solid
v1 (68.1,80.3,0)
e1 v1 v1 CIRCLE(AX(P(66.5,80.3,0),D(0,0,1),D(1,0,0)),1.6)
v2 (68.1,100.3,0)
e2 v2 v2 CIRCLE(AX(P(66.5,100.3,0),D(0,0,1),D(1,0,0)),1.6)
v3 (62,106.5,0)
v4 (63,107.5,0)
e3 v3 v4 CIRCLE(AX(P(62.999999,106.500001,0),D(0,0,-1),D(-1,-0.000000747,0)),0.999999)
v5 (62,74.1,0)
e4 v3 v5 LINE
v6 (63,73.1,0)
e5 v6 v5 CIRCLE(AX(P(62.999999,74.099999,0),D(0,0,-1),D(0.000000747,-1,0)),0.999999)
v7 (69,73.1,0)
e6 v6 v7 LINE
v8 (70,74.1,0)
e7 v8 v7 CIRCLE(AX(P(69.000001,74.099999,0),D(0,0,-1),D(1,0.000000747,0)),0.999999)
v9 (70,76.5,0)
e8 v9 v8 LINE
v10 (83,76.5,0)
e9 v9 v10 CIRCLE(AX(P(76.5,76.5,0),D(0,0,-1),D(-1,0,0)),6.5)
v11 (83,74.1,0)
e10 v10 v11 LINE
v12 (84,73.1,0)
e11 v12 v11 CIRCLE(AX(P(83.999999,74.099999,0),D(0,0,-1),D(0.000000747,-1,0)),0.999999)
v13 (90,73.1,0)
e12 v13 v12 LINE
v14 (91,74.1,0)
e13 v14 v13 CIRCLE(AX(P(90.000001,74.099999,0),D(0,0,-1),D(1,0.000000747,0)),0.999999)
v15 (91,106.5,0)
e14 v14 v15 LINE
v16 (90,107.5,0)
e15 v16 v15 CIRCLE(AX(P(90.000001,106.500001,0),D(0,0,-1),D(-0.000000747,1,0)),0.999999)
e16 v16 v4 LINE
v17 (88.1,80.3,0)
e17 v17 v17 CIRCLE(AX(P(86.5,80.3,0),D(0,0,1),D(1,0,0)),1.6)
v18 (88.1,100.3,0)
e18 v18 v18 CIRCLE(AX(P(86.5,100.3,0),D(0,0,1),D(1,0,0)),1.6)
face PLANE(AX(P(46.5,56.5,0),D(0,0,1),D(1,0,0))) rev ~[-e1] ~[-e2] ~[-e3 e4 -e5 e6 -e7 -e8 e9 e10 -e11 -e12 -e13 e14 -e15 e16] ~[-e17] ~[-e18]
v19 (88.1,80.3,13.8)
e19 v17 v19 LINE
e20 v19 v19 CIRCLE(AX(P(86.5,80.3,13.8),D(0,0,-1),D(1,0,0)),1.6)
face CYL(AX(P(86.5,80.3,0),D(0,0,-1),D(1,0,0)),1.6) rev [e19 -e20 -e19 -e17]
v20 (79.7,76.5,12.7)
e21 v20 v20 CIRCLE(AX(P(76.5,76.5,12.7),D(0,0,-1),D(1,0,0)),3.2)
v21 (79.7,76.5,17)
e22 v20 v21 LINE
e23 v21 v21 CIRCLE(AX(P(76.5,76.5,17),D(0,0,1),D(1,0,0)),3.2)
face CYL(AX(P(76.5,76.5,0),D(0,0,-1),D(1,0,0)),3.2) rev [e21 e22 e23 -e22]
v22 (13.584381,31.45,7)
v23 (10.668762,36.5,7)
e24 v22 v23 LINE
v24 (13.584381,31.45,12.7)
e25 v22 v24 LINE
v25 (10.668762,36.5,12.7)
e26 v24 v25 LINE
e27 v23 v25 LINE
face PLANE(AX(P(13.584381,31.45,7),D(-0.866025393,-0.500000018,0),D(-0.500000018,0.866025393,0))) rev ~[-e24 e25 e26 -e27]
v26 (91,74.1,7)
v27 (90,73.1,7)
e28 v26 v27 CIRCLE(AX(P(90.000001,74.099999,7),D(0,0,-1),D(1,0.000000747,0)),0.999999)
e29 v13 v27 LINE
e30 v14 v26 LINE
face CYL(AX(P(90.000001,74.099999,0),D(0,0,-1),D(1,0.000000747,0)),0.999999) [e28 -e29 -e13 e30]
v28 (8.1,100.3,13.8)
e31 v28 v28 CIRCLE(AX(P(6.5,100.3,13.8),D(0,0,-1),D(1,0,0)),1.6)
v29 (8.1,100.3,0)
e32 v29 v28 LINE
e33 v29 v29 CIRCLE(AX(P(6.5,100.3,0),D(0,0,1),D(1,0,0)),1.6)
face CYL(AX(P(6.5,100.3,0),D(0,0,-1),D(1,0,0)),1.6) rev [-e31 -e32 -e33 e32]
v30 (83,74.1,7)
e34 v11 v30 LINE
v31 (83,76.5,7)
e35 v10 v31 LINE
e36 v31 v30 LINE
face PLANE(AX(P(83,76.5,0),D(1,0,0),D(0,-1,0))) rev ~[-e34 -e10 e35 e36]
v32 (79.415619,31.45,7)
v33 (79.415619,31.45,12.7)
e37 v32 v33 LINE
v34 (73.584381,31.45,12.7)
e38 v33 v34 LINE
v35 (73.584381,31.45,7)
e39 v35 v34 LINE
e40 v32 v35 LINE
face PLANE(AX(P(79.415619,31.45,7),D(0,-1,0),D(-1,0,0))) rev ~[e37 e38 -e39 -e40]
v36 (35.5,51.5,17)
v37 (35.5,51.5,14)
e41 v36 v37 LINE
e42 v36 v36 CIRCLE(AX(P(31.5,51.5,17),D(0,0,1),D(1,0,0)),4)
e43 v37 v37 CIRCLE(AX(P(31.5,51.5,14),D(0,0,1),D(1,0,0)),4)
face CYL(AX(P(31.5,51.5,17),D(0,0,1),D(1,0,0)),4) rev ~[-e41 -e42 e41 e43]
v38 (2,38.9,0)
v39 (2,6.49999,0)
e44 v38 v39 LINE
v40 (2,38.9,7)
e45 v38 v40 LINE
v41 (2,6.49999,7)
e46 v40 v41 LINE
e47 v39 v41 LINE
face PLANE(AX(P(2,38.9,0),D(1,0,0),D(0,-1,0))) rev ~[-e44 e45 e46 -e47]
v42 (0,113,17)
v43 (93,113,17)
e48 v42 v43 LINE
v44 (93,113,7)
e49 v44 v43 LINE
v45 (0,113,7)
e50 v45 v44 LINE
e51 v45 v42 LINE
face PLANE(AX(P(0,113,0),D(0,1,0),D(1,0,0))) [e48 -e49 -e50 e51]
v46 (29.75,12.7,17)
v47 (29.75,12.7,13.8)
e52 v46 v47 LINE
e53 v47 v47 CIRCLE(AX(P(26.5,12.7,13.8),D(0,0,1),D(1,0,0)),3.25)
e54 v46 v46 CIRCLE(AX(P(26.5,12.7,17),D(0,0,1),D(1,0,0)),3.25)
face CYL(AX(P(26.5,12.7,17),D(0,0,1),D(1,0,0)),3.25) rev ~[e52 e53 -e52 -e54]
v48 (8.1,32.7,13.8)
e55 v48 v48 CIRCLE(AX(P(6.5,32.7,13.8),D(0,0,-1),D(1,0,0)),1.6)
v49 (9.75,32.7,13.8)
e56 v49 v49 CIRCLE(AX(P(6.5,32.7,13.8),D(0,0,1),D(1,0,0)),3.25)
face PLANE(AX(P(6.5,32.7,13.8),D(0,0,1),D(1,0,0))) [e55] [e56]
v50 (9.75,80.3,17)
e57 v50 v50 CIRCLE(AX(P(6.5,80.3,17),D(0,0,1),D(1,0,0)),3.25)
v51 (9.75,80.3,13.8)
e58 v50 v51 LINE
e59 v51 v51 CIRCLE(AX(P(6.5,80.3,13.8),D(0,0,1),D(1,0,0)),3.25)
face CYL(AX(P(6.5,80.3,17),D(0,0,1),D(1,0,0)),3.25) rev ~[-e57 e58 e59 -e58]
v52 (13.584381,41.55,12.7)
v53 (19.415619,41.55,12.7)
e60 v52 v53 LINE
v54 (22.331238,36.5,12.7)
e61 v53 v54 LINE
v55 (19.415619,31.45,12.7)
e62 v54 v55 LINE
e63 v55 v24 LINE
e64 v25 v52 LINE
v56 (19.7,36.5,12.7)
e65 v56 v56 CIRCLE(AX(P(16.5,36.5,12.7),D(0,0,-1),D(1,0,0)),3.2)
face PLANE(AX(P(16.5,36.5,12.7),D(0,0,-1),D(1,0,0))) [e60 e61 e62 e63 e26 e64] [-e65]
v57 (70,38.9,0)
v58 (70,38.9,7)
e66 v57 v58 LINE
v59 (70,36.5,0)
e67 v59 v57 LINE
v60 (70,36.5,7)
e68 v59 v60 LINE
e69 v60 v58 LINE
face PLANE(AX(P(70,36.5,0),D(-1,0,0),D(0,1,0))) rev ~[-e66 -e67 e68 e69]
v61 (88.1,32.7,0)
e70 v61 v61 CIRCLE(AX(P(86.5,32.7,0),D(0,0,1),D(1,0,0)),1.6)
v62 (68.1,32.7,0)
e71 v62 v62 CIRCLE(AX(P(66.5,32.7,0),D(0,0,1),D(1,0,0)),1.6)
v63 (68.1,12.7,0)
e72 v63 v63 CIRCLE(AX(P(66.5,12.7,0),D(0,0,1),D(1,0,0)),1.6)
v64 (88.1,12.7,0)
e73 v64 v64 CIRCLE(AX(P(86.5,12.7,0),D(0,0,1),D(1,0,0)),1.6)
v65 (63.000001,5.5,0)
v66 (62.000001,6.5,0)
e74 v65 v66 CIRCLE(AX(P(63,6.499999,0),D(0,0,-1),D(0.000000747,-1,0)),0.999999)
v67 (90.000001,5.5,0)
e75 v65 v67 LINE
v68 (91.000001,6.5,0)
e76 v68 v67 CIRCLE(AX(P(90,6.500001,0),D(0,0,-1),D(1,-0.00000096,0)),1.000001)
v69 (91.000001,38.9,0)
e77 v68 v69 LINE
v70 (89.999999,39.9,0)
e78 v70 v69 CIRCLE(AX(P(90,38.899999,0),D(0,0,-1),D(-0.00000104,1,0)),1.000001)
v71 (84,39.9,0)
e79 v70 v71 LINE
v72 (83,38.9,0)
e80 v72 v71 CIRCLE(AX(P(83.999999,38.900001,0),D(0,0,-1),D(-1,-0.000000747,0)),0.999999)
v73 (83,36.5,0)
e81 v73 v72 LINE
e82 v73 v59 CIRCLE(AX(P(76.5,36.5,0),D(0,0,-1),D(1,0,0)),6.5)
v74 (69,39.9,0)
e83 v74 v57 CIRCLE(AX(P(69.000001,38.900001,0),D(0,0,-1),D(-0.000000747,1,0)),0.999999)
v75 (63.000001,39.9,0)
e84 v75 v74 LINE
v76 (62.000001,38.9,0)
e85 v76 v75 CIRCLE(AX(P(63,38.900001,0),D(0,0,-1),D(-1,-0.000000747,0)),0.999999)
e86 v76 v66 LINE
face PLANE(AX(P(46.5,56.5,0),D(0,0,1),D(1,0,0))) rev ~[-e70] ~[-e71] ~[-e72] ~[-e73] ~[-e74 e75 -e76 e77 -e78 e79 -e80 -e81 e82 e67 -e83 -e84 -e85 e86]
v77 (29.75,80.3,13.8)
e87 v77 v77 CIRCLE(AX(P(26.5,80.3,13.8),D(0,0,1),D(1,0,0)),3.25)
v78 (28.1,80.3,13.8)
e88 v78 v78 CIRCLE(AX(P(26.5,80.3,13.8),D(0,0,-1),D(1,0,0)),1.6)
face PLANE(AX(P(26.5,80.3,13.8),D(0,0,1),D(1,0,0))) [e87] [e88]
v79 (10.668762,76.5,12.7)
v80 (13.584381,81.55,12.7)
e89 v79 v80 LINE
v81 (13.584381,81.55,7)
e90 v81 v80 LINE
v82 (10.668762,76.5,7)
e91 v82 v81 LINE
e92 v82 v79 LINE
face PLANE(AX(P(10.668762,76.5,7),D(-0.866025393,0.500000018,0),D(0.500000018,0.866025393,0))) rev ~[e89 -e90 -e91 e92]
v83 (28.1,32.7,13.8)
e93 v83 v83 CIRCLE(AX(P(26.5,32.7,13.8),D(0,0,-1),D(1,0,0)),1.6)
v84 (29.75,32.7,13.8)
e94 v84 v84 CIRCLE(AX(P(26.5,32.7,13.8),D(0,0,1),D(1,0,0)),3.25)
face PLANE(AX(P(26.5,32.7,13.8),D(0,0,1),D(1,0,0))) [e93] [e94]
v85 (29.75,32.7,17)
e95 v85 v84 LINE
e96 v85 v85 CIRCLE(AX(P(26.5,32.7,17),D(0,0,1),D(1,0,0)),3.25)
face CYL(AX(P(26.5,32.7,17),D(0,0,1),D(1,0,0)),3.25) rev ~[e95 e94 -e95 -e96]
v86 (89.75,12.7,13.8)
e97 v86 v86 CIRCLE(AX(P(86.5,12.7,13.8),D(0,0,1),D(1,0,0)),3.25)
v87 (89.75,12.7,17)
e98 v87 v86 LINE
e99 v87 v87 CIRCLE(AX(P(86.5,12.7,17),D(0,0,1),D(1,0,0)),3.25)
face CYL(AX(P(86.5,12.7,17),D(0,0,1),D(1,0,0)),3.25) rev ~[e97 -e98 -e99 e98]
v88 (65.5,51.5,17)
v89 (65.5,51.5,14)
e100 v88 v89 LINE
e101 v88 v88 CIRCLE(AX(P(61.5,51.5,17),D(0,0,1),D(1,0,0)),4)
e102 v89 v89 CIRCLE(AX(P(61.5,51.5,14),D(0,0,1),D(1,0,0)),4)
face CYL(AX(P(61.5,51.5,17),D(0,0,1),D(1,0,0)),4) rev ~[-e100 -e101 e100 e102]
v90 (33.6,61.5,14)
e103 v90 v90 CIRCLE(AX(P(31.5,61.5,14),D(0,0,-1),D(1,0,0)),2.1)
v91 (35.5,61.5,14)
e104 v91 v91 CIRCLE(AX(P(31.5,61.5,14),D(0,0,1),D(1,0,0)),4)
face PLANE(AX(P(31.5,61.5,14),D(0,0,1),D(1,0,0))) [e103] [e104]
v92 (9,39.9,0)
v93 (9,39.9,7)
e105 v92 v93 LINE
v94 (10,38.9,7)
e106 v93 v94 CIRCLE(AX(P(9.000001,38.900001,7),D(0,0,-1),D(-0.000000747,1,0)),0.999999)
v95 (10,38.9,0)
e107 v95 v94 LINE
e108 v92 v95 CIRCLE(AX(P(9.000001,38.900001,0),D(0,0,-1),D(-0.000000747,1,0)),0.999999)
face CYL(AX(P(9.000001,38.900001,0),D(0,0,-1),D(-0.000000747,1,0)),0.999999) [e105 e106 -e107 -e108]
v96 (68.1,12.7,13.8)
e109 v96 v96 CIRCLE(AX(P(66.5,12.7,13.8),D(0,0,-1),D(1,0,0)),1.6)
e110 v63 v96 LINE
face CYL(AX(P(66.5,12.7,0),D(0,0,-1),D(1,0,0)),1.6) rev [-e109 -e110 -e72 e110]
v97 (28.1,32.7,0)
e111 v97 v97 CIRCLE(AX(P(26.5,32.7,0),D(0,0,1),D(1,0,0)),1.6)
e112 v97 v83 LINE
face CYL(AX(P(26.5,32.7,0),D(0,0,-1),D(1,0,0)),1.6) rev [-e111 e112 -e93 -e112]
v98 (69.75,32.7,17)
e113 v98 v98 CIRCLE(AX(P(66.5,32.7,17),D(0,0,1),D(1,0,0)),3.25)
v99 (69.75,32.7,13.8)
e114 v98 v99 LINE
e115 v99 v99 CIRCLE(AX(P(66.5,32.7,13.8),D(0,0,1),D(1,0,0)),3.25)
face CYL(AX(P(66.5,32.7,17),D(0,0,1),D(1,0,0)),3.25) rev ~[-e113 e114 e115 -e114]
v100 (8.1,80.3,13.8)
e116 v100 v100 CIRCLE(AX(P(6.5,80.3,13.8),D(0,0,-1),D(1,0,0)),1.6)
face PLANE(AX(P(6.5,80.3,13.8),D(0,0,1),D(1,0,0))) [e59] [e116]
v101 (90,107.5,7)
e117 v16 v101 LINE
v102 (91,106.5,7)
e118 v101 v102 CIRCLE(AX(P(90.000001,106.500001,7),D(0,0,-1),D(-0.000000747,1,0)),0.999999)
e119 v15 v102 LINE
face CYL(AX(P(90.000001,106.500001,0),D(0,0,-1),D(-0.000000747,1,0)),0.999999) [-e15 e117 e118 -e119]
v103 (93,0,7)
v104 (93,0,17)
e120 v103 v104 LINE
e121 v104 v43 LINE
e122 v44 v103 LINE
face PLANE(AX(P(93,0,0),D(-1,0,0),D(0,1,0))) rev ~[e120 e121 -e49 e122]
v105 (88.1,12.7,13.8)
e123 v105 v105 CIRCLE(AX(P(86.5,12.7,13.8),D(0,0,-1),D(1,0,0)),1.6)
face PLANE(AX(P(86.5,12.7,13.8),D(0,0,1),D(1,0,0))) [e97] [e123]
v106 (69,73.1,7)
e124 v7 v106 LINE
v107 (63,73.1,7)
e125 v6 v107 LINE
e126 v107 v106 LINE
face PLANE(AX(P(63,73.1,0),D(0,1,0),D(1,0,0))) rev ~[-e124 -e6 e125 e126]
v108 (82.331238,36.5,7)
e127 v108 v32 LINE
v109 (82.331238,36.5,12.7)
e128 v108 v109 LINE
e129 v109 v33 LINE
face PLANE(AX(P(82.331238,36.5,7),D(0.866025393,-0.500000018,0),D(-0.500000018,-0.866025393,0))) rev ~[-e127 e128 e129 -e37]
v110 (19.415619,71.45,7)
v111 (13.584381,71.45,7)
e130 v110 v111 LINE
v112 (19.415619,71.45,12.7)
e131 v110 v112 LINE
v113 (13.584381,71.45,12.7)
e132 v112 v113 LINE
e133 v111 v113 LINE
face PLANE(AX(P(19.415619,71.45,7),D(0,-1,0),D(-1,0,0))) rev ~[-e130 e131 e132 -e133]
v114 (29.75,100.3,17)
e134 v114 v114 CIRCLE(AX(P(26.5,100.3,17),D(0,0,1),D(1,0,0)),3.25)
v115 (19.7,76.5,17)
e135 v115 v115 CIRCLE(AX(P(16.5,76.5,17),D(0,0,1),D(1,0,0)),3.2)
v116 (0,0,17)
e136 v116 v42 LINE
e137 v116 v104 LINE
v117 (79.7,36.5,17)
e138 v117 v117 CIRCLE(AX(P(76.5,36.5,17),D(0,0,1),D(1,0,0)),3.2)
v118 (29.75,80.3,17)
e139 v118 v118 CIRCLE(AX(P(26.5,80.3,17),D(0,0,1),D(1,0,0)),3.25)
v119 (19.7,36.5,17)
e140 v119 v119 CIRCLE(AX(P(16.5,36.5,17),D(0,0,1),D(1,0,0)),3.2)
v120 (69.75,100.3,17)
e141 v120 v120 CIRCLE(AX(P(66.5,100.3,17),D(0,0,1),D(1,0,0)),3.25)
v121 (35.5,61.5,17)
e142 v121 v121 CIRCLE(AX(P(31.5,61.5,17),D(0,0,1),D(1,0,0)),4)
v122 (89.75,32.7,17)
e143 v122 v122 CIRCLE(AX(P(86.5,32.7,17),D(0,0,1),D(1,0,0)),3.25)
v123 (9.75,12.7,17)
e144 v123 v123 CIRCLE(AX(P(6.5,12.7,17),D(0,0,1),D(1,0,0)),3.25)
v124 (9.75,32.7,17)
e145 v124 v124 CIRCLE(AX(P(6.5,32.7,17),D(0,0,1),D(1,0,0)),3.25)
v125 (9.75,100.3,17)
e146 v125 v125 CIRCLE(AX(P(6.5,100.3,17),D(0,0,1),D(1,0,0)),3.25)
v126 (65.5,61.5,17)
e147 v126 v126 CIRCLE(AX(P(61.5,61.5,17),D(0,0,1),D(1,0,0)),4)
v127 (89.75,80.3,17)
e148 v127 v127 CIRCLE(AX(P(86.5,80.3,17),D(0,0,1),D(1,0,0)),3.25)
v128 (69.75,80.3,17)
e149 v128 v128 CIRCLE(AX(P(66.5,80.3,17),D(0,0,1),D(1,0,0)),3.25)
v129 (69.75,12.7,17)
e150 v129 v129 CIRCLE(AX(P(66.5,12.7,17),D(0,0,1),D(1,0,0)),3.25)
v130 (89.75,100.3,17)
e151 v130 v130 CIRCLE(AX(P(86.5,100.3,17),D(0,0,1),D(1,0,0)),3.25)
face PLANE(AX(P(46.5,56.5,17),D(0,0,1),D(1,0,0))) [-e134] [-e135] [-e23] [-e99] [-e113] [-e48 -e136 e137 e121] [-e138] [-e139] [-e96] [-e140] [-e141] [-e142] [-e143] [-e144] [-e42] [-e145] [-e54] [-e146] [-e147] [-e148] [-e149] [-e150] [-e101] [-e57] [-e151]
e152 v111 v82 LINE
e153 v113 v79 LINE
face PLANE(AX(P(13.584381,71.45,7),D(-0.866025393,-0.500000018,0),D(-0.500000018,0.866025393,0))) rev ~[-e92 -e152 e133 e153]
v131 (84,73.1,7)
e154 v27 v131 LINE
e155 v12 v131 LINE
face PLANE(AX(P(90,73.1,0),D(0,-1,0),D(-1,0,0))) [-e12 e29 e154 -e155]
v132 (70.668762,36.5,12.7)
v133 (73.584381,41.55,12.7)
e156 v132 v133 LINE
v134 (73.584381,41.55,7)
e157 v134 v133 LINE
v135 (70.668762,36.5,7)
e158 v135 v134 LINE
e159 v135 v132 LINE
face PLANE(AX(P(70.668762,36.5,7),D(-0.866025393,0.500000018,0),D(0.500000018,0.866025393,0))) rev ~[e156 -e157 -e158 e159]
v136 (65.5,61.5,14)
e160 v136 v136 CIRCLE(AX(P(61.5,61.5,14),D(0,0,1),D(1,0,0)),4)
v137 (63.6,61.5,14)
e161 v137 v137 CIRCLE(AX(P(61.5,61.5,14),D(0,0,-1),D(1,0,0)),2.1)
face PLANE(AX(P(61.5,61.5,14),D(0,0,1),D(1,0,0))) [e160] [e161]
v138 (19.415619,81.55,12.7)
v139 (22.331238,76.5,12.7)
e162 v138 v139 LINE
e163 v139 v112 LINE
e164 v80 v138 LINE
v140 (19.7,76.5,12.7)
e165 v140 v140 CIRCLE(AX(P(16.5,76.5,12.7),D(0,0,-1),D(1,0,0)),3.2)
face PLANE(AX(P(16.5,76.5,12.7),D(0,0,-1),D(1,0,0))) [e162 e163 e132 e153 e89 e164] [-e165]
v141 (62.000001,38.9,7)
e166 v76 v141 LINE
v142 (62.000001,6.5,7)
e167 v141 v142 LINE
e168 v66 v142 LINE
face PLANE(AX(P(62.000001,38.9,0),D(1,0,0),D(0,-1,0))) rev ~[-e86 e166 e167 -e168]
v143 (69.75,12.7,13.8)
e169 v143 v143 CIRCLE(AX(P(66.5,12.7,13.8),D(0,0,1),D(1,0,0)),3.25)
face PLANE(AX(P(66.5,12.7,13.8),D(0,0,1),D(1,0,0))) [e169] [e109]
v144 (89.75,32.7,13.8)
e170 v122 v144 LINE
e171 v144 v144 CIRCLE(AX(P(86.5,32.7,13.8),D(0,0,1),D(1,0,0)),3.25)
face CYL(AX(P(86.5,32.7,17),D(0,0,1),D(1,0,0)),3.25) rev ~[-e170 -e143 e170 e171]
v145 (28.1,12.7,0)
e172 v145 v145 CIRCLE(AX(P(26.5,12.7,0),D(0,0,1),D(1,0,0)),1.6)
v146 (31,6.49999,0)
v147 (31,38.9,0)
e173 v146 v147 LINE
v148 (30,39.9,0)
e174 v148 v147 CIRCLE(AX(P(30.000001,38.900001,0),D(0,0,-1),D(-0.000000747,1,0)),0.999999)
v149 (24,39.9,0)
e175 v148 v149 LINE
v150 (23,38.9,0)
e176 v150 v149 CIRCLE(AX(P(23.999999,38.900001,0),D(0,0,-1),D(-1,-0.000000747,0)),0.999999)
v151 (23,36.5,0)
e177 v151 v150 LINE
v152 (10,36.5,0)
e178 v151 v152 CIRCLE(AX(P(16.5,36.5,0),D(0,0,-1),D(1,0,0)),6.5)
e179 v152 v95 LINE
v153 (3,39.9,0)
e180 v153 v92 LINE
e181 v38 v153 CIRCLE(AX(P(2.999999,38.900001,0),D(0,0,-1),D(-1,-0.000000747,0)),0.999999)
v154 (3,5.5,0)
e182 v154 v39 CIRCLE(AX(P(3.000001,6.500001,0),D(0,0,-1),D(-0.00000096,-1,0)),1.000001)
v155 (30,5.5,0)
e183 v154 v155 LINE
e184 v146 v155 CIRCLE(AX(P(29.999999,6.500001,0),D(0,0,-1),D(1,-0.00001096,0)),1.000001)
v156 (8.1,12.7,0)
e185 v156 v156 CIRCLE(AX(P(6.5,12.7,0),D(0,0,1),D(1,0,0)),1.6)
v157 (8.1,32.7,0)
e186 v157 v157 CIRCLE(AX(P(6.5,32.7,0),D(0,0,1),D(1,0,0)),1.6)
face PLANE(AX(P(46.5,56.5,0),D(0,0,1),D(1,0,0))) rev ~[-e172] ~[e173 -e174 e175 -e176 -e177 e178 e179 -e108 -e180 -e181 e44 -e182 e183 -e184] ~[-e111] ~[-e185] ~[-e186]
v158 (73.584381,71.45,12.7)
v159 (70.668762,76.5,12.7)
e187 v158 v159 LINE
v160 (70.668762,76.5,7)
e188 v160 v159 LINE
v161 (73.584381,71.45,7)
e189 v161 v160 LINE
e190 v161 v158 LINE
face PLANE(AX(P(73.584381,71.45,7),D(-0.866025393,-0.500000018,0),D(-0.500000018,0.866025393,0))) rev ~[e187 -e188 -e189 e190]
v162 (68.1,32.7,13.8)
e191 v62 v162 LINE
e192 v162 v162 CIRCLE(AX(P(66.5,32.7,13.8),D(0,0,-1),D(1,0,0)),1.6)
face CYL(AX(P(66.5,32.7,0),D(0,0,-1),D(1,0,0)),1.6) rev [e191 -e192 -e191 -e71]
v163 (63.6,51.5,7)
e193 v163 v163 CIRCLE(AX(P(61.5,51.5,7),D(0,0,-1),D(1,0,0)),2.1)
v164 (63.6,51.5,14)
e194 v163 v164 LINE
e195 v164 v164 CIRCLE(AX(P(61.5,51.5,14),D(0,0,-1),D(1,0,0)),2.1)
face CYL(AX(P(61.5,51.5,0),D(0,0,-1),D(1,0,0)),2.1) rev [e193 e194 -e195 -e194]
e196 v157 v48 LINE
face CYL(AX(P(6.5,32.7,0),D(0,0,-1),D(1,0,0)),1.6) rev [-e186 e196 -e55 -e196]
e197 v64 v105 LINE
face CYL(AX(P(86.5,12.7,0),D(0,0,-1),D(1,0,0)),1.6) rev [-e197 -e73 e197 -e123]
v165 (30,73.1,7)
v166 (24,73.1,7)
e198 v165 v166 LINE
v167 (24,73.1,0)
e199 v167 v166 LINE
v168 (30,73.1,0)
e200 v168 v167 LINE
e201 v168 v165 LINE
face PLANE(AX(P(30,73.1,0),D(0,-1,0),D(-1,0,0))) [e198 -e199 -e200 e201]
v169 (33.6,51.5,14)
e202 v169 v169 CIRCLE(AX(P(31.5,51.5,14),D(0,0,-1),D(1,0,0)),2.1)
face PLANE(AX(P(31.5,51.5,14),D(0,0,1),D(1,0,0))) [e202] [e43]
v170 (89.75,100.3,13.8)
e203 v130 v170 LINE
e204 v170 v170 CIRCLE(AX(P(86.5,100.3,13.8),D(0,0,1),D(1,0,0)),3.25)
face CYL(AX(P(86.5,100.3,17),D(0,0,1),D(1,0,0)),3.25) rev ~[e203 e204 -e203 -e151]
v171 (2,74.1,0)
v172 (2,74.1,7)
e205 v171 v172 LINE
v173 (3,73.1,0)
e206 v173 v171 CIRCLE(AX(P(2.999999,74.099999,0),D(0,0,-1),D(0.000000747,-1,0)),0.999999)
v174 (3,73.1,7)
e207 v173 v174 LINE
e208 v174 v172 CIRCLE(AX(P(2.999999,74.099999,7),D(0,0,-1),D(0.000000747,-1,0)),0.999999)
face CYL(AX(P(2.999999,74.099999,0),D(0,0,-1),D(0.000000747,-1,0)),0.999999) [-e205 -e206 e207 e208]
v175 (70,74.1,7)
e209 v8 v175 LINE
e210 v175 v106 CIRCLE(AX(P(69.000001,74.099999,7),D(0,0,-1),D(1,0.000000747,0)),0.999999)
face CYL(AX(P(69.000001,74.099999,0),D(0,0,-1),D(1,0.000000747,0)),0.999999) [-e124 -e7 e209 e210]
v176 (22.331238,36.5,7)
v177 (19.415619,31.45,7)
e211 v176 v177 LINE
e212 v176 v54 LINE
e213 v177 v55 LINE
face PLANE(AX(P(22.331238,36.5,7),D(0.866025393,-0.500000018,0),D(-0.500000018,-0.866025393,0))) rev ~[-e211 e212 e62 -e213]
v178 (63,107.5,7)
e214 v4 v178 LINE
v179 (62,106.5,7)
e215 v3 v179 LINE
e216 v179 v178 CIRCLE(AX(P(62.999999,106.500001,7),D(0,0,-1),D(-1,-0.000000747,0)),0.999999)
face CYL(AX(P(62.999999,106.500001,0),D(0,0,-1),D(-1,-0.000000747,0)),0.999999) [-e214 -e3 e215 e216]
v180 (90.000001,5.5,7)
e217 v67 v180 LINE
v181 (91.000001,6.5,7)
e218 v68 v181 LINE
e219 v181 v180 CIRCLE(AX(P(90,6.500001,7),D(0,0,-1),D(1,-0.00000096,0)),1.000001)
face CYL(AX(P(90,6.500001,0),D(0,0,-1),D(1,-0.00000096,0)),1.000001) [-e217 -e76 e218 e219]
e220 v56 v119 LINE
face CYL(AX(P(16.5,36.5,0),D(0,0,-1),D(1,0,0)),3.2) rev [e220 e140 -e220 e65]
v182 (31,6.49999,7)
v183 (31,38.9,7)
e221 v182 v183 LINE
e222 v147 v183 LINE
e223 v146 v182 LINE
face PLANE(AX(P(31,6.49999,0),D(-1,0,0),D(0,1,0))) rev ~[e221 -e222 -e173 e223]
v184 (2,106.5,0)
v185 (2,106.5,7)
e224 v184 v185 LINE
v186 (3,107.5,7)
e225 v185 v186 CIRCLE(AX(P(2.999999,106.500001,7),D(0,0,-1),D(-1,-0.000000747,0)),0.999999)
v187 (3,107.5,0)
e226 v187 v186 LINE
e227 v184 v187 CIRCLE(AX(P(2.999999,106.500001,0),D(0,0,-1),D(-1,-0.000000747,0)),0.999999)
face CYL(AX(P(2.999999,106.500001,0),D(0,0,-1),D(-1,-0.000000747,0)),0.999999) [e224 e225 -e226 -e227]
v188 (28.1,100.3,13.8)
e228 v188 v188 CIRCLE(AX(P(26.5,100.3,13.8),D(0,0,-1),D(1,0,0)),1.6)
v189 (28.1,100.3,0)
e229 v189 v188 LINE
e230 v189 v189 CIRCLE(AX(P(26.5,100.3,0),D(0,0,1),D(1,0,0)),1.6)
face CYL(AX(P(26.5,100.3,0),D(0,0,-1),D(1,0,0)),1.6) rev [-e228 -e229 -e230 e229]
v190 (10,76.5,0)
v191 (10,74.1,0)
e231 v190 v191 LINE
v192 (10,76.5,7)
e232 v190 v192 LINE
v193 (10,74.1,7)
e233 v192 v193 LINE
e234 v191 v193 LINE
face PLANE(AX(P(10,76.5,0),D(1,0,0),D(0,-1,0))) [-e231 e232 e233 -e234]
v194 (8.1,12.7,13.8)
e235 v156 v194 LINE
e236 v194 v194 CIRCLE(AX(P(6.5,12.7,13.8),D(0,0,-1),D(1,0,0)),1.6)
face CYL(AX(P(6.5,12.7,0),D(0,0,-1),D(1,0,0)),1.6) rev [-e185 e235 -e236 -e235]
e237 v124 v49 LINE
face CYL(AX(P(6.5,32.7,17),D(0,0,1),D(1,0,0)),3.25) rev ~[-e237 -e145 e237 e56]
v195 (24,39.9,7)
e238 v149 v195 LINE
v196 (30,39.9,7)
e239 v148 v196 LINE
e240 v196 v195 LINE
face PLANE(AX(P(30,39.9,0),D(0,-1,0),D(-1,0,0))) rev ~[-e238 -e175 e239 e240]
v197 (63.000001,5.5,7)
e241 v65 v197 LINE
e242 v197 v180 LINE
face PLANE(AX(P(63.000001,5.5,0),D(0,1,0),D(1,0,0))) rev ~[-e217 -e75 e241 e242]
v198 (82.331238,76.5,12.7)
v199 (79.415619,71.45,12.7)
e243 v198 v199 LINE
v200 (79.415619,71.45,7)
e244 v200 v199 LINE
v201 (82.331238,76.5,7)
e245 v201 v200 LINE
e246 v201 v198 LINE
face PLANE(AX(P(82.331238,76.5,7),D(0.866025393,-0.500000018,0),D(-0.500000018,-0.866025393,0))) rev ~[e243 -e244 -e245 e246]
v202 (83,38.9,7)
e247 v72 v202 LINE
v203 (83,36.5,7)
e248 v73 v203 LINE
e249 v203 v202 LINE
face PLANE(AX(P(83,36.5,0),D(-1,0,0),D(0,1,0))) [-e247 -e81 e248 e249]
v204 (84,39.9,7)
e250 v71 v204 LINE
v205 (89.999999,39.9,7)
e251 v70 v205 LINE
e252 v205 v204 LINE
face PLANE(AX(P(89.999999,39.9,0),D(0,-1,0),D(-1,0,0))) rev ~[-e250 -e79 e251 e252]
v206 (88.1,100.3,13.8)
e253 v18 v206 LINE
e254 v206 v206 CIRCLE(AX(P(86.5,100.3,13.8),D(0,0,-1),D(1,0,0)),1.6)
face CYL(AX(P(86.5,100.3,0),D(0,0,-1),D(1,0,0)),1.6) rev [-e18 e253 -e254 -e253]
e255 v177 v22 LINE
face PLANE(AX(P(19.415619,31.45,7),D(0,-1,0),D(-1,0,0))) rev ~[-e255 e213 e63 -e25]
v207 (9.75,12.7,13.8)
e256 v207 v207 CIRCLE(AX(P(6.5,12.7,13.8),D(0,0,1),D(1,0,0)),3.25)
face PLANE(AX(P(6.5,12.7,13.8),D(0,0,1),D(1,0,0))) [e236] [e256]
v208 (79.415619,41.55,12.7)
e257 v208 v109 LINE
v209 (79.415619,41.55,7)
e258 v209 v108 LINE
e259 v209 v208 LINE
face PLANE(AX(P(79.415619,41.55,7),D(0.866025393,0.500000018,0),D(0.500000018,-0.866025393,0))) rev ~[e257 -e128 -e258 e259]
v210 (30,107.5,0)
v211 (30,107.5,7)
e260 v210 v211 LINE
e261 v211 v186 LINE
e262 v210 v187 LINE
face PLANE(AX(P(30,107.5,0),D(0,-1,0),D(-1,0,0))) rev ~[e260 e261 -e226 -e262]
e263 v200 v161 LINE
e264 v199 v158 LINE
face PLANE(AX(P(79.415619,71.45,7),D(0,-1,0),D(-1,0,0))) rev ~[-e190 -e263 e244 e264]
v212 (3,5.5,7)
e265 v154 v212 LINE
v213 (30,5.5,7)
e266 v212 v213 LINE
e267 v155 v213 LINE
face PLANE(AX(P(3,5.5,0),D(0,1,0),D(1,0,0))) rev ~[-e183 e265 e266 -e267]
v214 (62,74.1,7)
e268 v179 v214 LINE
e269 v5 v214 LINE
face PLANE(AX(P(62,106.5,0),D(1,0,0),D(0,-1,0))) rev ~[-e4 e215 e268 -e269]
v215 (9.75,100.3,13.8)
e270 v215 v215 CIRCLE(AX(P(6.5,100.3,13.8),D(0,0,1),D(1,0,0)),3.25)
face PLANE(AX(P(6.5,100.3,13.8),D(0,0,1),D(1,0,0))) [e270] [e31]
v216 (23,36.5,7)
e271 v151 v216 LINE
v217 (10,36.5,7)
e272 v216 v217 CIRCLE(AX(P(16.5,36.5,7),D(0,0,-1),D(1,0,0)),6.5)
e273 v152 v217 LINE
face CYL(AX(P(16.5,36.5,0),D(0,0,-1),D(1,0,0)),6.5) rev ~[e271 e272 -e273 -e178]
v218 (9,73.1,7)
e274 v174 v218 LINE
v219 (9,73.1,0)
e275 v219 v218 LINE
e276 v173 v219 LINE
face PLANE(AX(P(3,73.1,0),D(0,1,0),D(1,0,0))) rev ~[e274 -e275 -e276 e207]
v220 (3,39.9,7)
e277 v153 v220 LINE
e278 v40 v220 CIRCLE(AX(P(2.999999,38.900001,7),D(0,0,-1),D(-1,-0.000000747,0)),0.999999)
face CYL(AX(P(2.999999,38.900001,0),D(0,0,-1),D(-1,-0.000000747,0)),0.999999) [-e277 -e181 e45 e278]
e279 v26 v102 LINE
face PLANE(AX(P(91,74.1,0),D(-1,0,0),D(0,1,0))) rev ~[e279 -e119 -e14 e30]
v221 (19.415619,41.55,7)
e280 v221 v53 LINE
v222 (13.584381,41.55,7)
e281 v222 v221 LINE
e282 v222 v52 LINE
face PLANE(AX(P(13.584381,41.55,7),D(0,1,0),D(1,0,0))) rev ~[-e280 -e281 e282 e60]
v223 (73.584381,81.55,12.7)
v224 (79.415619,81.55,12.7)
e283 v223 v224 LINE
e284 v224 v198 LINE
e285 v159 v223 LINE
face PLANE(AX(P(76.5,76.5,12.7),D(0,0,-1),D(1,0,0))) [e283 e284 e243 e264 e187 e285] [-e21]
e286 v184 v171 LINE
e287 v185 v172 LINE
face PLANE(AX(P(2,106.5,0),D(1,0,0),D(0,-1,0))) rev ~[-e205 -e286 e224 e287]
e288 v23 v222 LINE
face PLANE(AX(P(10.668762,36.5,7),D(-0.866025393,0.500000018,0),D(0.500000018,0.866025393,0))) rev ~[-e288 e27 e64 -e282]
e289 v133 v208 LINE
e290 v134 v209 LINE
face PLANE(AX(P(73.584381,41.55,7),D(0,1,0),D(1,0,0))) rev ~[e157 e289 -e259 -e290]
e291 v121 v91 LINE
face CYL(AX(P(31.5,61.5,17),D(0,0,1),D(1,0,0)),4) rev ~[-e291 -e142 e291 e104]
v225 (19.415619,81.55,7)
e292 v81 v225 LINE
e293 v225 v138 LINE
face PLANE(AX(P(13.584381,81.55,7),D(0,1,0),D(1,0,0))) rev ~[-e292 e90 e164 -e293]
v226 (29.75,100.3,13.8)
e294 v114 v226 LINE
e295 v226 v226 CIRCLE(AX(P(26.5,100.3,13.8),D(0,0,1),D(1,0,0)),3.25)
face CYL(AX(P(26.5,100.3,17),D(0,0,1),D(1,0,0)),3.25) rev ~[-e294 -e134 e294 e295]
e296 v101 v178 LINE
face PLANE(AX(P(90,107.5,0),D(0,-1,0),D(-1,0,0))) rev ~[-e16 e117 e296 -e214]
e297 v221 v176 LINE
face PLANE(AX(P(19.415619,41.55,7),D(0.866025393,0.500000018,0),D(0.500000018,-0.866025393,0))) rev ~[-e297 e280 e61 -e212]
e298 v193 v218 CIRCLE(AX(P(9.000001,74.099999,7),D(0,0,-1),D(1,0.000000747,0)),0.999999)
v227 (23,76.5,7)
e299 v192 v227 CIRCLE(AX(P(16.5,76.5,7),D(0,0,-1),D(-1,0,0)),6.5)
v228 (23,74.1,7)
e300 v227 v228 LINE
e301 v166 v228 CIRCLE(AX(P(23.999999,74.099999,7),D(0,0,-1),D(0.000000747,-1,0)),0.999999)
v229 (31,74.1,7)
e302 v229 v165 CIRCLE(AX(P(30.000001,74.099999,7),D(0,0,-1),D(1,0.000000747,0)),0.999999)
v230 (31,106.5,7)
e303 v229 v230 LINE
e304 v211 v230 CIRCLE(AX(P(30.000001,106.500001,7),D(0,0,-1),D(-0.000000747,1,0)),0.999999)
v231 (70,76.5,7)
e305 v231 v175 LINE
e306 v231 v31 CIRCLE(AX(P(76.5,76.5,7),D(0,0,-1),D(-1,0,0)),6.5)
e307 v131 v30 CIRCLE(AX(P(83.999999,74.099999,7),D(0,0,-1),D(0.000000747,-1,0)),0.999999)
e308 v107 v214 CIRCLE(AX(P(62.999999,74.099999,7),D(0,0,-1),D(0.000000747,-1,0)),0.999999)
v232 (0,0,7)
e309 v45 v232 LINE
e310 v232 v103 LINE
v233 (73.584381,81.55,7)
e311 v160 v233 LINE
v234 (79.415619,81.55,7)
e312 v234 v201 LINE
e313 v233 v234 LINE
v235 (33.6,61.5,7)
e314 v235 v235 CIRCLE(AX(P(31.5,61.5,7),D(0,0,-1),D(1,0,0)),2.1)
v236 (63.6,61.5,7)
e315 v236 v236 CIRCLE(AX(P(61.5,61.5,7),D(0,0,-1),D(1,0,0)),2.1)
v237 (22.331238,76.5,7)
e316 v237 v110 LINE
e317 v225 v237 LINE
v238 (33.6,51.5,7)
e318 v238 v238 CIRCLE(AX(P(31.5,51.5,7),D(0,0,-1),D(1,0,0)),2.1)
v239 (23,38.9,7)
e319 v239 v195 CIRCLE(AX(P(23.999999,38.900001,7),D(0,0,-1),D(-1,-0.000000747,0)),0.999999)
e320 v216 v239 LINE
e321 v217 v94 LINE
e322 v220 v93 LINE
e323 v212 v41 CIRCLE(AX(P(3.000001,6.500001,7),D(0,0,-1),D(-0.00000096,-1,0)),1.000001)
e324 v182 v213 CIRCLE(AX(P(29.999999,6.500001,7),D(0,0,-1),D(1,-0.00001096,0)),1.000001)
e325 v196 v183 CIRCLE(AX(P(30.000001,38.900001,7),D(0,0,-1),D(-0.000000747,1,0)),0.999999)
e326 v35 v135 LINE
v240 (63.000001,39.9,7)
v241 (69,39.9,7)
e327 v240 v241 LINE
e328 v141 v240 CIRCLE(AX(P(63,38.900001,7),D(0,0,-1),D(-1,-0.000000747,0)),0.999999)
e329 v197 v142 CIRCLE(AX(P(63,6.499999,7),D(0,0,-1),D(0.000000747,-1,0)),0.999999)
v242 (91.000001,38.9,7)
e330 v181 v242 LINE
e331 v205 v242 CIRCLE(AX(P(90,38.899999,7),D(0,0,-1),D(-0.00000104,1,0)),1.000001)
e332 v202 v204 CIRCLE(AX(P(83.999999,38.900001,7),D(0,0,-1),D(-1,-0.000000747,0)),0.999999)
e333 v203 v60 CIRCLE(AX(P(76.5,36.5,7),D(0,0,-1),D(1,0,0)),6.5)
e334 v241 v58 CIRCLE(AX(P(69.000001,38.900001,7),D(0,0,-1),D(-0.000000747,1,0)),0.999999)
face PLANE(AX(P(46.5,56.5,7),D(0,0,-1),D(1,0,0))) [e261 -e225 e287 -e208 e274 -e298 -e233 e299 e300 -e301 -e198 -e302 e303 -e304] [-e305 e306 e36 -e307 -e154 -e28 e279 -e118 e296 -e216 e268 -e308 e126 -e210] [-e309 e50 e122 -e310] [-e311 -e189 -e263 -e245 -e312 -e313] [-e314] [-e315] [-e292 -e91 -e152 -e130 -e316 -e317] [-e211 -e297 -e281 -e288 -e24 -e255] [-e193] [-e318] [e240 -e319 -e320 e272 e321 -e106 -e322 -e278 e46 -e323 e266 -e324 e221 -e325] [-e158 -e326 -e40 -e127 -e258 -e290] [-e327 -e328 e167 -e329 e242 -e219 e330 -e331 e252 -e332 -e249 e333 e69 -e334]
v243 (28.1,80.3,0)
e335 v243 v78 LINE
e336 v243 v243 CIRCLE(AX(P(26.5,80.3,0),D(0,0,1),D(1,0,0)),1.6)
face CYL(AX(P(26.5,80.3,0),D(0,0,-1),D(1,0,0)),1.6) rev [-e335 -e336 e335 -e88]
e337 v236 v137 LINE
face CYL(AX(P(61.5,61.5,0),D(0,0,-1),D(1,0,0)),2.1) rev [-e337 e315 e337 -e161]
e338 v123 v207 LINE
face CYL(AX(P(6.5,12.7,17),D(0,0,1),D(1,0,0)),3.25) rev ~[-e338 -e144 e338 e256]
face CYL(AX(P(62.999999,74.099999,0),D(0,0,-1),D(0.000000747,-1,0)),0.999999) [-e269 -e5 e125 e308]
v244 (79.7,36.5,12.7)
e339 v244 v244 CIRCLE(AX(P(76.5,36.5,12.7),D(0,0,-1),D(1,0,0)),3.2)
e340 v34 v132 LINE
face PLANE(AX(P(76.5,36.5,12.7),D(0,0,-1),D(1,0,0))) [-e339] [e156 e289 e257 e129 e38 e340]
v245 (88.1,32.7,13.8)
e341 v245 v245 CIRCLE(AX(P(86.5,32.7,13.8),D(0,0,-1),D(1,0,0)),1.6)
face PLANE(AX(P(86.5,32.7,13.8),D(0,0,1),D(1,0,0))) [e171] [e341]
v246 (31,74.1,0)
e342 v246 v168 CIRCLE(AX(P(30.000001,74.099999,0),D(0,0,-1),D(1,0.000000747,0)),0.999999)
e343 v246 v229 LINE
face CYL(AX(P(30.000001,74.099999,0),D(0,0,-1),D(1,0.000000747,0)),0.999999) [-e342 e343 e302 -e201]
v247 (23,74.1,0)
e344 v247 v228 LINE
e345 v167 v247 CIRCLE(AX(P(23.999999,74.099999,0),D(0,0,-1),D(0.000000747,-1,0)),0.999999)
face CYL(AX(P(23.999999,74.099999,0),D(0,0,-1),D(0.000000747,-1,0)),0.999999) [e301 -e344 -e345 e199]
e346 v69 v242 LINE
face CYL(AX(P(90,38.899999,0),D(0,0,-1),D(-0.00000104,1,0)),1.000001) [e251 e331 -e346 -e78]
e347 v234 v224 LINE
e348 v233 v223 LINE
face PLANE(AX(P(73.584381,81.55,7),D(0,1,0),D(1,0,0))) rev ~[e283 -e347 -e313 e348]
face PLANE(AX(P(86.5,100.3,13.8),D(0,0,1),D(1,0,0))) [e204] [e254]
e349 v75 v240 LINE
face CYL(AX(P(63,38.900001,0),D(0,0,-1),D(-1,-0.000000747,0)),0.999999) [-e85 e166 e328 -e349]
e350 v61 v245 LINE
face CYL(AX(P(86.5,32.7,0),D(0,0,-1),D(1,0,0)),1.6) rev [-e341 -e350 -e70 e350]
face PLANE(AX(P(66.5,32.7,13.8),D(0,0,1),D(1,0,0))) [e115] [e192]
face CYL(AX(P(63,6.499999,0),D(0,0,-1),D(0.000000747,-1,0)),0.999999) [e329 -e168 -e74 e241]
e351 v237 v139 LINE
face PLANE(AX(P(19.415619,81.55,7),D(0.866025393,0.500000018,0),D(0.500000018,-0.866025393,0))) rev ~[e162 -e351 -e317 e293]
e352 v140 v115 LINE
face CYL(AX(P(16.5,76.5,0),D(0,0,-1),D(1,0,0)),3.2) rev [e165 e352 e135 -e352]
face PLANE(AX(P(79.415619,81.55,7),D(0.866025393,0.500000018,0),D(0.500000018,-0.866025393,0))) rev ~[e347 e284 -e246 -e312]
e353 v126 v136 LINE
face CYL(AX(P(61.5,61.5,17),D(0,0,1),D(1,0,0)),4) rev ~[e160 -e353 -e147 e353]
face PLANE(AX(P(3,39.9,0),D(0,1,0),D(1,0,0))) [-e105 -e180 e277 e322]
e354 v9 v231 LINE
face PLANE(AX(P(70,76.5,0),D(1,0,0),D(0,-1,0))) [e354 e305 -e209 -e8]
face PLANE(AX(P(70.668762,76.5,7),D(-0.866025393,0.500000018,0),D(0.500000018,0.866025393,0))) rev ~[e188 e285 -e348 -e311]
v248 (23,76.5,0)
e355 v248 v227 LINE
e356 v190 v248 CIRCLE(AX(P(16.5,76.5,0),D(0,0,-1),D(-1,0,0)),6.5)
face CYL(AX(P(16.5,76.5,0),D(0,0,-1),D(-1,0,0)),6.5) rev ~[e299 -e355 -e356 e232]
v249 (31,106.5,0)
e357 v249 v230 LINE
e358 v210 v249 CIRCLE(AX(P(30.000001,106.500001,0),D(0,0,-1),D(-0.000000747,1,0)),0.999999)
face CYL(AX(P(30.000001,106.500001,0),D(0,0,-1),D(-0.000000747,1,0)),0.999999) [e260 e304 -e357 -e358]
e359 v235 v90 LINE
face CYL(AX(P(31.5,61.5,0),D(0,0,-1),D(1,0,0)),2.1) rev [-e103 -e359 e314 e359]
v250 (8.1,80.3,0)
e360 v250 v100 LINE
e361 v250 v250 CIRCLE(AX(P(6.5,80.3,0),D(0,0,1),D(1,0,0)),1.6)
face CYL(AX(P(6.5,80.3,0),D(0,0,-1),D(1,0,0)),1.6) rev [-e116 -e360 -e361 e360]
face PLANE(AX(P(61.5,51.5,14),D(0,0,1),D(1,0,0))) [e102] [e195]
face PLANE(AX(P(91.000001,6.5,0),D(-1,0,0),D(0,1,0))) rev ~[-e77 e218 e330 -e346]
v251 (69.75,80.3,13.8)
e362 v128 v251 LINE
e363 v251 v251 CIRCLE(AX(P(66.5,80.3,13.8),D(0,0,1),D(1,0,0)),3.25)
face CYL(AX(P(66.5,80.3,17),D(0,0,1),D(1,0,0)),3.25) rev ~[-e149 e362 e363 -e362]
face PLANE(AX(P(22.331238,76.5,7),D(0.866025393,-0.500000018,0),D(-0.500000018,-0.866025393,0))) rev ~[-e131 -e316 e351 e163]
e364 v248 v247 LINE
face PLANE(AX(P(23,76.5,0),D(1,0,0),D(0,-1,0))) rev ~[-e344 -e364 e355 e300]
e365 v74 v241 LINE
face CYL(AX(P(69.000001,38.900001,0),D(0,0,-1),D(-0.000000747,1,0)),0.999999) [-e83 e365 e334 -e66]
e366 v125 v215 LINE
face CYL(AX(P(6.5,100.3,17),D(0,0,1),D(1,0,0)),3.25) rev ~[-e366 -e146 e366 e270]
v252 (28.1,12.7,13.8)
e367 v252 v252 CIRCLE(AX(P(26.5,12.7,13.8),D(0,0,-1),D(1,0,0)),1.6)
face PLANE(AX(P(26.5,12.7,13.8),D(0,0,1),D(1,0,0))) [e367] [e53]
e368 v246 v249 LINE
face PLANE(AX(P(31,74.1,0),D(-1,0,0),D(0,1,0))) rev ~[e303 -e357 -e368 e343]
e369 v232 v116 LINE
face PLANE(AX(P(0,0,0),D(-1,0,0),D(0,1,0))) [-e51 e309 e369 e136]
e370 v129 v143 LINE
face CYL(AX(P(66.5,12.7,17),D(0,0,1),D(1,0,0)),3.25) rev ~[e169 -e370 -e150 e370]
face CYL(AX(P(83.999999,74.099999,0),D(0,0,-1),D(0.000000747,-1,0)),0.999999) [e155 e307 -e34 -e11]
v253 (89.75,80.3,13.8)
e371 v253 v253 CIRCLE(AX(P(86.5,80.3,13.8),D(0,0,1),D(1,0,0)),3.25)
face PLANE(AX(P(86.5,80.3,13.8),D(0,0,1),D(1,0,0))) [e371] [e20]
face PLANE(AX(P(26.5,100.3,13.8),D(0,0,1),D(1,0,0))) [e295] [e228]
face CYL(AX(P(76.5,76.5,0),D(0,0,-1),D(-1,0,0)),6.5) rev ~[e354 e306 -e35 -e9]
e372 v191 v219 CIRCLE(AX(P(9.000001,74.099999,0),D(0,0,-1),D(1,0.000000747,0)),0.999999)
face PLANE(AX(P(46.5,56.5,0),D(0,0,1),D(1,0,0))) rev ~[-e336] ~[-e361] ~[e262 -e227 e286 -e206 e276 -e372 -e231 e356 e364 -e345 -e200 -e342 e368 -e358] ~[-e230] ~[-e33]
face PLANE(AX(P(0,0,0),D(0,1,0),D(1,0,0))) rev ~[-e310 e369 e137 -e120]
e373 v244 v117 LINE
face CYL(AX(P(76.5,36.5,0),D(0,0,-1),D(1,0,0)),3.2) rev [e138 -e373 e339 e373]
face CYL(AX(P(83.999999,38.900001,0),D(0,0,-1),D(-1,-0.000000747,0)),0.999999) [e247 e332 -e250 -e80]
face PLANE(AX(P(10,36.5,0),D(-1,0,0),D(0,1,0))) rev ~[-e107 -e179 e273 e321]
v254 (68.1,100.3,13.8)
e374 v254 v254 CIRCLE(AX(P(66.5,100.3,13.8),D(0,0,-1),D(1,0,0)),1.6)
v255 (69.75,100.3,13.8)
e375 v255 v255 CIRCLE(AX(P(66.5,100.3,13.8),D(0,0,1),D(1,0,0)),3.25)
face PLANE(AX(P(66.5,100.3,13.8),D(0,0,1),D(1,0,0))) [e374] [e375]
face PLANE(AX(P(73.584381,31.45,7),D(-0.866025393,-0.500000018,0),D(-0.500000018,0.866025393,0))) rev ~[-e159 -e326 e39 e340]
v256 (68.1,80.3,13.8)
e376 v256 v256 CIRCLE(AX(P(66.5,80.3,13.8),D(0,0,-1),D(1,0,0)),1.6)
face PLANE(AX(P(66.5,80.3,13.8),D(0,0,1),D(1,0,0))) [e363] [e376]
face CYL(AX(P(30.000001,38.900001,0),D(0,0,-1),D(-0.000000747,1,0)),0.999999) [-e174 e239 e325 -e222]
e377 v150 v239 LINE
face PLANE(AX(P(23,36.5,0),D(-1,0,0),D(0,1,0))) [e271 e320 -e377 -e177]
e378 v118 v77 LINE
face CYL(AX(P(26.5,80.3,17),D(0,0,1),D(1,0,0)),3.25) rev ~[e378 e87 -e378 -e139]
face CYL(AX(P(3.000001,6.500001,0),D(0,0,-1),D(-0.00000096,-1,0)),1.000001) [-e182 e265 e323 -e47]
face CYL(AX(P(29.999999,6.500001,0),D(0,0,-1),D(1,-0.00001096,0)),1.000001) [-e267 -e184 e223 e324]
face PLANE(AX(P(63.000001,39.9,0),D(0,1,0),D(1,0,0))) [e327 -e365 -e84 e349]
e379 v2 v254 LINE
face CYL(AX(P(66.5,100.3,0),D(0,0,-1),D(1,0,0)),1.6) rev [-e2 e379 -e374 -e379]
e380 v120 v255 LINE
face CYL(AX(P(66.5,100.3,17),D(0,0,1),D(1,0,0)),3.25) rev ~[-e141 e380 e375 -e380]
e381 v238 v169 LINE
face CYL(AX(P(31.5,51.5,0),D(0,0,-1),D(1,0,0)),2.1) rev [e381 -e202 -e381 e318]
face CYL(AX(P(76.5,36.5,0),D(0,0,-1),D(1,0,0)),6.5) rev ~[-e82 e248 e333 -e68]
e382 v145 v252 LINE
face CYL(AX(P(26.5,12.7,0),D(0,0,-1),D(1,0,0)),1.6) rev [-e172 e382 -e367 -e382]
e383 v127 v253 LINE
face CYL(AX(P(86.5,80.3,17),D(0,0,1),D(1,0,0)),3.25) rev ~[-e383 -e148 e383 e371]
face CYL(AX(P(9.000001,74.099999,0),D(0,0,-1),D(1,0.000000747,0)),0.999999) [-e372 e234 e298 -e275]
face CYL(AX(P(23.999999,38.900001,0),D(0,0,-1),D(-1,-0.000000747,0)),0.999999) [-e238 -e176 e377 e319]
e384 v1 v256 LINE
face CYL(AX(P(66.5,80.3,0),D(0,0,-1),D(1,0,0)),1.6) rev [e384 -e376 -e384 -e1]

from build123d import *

# Parameters (mm, degrees)
SKETCH_W        = 93
SKETCH_H        = 113
SKETCH_R        = 2.1
SKETCH_R_2      = 1.6
SKETCH_R_3      = 3.2
PAD_DEPTH       = 17
SKETCH001_W     = 93
SKETCH001_H     = 113
POCKET_DEPTH    = 7
SKETCH003_R     = 3.25
POCKET001_DEPTH = 3.2
SKETCH004_R     = 4
POCKET002_DEPTH = 3
POCKET003_DEPTH = 5.7


with BuildPart() as part:
    # Sketch → Pad (new body)
    with BuildSketch(Plane.XY):
        with Locations((46.5, 56.5)):
            Rectangle(SKETCH_W, SKETCH_H)
        with Locations((31.5, 61.5)):
            Circle(SKETCH_R, mode=Mode.SUBTRACT)
        with Locations((61.5, 61.5)):
            Circle(SKETCH_R, mode=Mode.SUBTRACT)
        with Locations((61.5, 51.5)):
            Circle(SKETCH_R, mode=Mode.SUBTRACT)
        with Locations((31.5, 51.5)):
            Circle(SKETCH_R, mode=Mode.SUBTRACT)
        with Locations((6.5, 100.3)):
            Circle(SKETCH_R_2, mode=Mode.SUBTRACT)
        with Locations((26.5, 100.3)):
            Circle(SKETCH_R_2, mode=Mode.SUBTRACT)
        with Locations((26.5, 80.3)):
            Circle(SKETCH_R_2, mode=Mode.SUBTRACT)
        with Locations((6.5, 80.3)):
            Circle(SKETCH_R_2, mode=Mode.SUBTRACT)
        with Locations((26.5, 12.7)):
            Circle(SKETCH_R_2, mode=Mode.SUBTRACT)
        with Locations((6.5, 12.7)):
            Circle(SKETCH_R_2, mode=Mode.SUBTRACT)
        with Locations((6.5, 32.7)):
            Circle(SKETCH_R_2, mode=Mode.SUBTRACT)
        with Locations((26.5, 32.7)):
            Circle(SKETCH_R_2, mode=Mode.SUBTRACT)
        with Locations((66.5, 100.3)):
            Circle(SKETCH_R_2, mode=Mode.SUBTRACT)
        with Locations((86.5, 100.3)):
            Circle(SKETCH_R_2, mode=Mode.SUBTRACT)
        with Locations((86.5, 80.3)):
            Circle(SKETCH_R_2, mode=Mode.SUBTRACT)
        with Locations((66.5, 80.3)):
            Circle(SKETCH_R_2, mode=Mode.SUBTRACT)
        with Locations((66.5, 32.7)):
            Circle(SKETCH_R_2, mode=Mode.SUBTRACT)
        with Locations((86.5, 32.7)):
            Circle(SKETCH_R_2, mode=Mode.SUBTRACT)
        with Locations((86.5, 12.7)):
            Circle(SKETCH_R_2, mode=Mode.SUBTRACT)
        with Locations((66.5, 12.7)):
            Circle(SKETCH_R_2, mode=Mode.SUBTRACT)
        with Locations((16.5, 36.5)):
            Circle(SKETCH_R_3, mode=Mode.SUBTRACT)
        with Locations((76.5, 36.5)):
            Circle(SKETCH_R_3, mode=Mode.SUBTRACT)
        with Locations((76.5, 76.5)):
            Circle(SKETCH_R_3, mode=Mode.SUBTRACT)
        with Locations((16.5, 76.5)):
            Circle(SKETCH_R_3, mode=Mode.SUBTRACT)
    extrude(amount=PAD_DEPTH)

    # Sketch001 (on Face29 of Pad) → Pocket (cut)
    with BuildSketch(Plane(origin=(0, 84, 0), x_dir=(1, 0, 0), z_dir=(0, 0, -1))):
        with Locations((46.5, 27.5)):
            Rectangle(SKETCH001_W, SKETCH001_H)
        with BuildLine():
            Line((2, 45.1), (2, 77.50001))
            ThreePointArc((3, 78.5), (2.292897, 78.20711), (2, 77.50001))
            Line((3, 78.5), (30, 78.5))
            ThreePointArc((31, 77.50001), (30.707103, 78.20711), (30, 78.5))
            Line((31, 77.50001), (31, 45.1))
            ThreePointArc((30, 44.1), (30.707107, 44.392893), (31, 45.1))
            Line((30, 44.1), (24, 44.1))
            ThreePointArc((23, 45.1), (23.292893, 44.392893), (24, 44.1))
            Line((23, 47.5), (23, 45.1))
            ThreePointArc((23, 47.5), (16.5, 54), (10, 47.5))
            Line((10, 47.5), (10, 45.1))
            ThreePointArc((9, 44.1), (9.707107, 44.392893), (10, 45.1))
            Line((3, 44.1), (9, 44.1))
            ThreePointArc((2, 45.1), (2.292893, 44.392893), (3, 44.1))
        make_face(mode=Mode.SUBTRACT)
        with BuildLine():
            ThreePointArc((89.999999, 44.1), (90.707107, 44.392893), (91.000001, 45.1))
            Line((91.000001, 77.5), (91.000001, 45.1))
            ThreePointArc((91.000001, 77.5), (90.707107, 78.207107), (90.000001, 78.5))
            Line((63.000001, 78.5), (90.000001, 78.5))
            ThreePointArc((63.000001, 78.5), (62.292894, 78.207107), (62.000001, 77.5))
            Line((62.000001, 45.1), (62.000001, 77.5))
            ThreePointArc((62.000001, 45.1), (62.292894, 44.392893), (63.000001, 44.1))
            Line((63.000001, 44.1), (69, 44.1))
            ThreePointArc((69, 44.1), (69.707107, 44.392893), (70, 45.1))
            Line((70, 47.5), (70, 45.1))
            ThreePointArc((83, 47.5), (76.5, 54), (70, 47.5))
            Line((83, 47.5), (83, 45.1))
            ThreePointArc((83, 45.1), (83.292893, 44.392893), (84, 44.1))
            Line((89.999999, 44.1), (84, 44.1))
        make_face(mode=Mode.SUBTRACT)
        with BuildLine():
            Line((31, 9.9), (31, -22.5))
            ThreePointArc((30, -23.5), (30.707107, -23.207107), (31, -22.5))
            Line((30, -23.5), (3, -23.5))
            ThreePointArc((2, -22.5), (2.292893, -23.207107), (3, -23.5))
            Line((2, -22.5), (2, 9.9))
            ThreePointArc((3, 10.9), (2.292893, 10.607107), (2, 9.9))
            Line((3, 10.9), (9, 10.9))
            ThreePointArc((10, 9.9), (9.707107, 10.607107), (9, 10.9))
            Line((10, 7.5), (10, 9.9))
            ThreePointArc((10, 7.5), (16.5, 1), (23, 7.5))
            Line((23, 7.5), (23, 9.9))
            ThreePointArc((24, 10.9), (23.292893, 10.607107), (23, 9.9))
            Line((30, 10.9), (24, 10.9))
            ThreePointArc((31, 9.9), (30.707107, 10.607107), (30, 10.9))
        make_face(mode=Mode.SUBTRACT)
        with BuildLine():
            Line((91, 9.9), (91, -22.5))
            ThreePointArc((90, -23.5), (90.707107, -23.207107), (91, -22.5))
            Line((90, -23.5), (63, -23.5))
            ThreePointArc((62, -22.5), (62.292893, -23.207107), (63, -23.5))
            Line((62, -22.5), (62, 9.9))
            ThreePointArc((63, 10.9), (62.292893, 10.607107), (62, 9.9))
            Line((63, 10.9), (69, 10.9))
            ThreePointArc((70, 9.9), (69.707107, 10.607107), (69, 10.9))
            Line((70, 7.5), (70, 9.9))
            ThreePointArc((70, 7.5), (76.5, 1), (83, 7.5))
            Line((83, 7.5), (83, 9.9))
            ThreePointArc((84, 10.9), (83.292893, 10.607107), (83, 9.9))
            Line((90, 10.9), (84, 10.9))
            ThreePointArc((91, 9.9), (90.707107, 10.607107), (90, 10.9))
        make_face(mode=Mode.SUBTRACT)
    extrude(amount=-POCKET_DEPTH, mode=Mode.SUBTRACT)

    # Sketch003 (on Face4 of Pocket) → Pocket001 (cut)
    with BuildSketch(Plane.XY.offset(17)):
        with Locations((6.5, 100.3)):
            Circle(SKETCH003_R)
        with Locations((26.5, 100.3)):
            Circle(SKETCH003_R)
        with Locations((26.5, 80.3)):
            Circle(SKETCH003_R)
        with Locations((6.5, 80.3)):
            Circle(SKETCH003_R)
        with Locations((66.5, 100.3)):
            Circle(SKETCH003_R)
        with Locations((66.5, 80.3)):
            Circle(SKETCH003_R)
        with Locations((86.5, 80.3)):
            Circle(SKETCH003_R)
        with Locations((86.5, 100.3)):
            Circle(SKETCH003_R)
        with Locations((86.5, 12.7)):
            Circle(SKETCH003_R)
        with Locations((66.5, 12.7)):
            Circle(SKETCH003_R)
        with Locations((66.5, 32.7)):
            Circle(SKETCH003_R)
        with Locations((86.5, 32.7)):
            Circle(SKETCH003_R)
        with Locations((6.5, 32.7)):
            Circle(SKETCH003_R)
        with Locations((26.5, 32.7)):
            Circle(SKETCH003_R)
        with Locations((26.5, 12.7)):
            Circle(SKETCH003_R)
        with Locations((6.5, 12.7)):
            Circle(SKETCH003_R)
    extrude(amount=-POCKET001_DEPTH, mode=Mode.SUBTRACT)

    # Sketch004 (on Face4 of Pocket001) → Pocket002 (cut)
    with BuildSketch(Plane.XY.offset(17)):
        with Locations((31.5, 61.5)):
            Circle(SKETCH004_R)
        with Locations((31.5, 51.5)):
            Circle(SKETCH004_R)
        with Locations((61.5, 51.5)):
            Circle(SKETCH004_R)
        with Locations((61.5, 61.5)):
            Circle(SKETCH004_R)
    extrude(amount=-POCKET002_DEPTH, mode=Mode.SUBTRACT)

    # Sketch005 (on Face2 of Pocket002) → Pocket003 (cut)
    with BuildSketch(Plane(origin=(0, 113, 7), x_dir=(1, 0, 0), z_dir=(0, 0, -1))):
        Polygon((10.668762, 36.5), (13.584381, 31.45), (19.415619, 31.45), (22.331238, 36.5), (19.415619, 41.55), (13.584381, 41.55), align=None)
        Polygon((73.584381, 31.45), (79.415619, 31.45), (82.331238, 36.5), (79.415619, 41.55), (73.584381, 41.55), (70.668762, 36.5), align=None)
        Polygon((73.584381, 71.45), (79.415619, 71.45), (82.331238, 76.5), (79.415619, 81.55), (73.584381, 81.55), (70.668762, 76.5), align=None)
        Polygon((13.584381, 71.45), (19.415619, 71.45), (22.331238, 76.5), (19.415619, 81.55), (13.584381, 81.55), (10.668762, 76.5), align=None)
    extrude(amount=-POCKET003_DEPTH, mode=Mode.SUBTRACT)


solid = part.part
